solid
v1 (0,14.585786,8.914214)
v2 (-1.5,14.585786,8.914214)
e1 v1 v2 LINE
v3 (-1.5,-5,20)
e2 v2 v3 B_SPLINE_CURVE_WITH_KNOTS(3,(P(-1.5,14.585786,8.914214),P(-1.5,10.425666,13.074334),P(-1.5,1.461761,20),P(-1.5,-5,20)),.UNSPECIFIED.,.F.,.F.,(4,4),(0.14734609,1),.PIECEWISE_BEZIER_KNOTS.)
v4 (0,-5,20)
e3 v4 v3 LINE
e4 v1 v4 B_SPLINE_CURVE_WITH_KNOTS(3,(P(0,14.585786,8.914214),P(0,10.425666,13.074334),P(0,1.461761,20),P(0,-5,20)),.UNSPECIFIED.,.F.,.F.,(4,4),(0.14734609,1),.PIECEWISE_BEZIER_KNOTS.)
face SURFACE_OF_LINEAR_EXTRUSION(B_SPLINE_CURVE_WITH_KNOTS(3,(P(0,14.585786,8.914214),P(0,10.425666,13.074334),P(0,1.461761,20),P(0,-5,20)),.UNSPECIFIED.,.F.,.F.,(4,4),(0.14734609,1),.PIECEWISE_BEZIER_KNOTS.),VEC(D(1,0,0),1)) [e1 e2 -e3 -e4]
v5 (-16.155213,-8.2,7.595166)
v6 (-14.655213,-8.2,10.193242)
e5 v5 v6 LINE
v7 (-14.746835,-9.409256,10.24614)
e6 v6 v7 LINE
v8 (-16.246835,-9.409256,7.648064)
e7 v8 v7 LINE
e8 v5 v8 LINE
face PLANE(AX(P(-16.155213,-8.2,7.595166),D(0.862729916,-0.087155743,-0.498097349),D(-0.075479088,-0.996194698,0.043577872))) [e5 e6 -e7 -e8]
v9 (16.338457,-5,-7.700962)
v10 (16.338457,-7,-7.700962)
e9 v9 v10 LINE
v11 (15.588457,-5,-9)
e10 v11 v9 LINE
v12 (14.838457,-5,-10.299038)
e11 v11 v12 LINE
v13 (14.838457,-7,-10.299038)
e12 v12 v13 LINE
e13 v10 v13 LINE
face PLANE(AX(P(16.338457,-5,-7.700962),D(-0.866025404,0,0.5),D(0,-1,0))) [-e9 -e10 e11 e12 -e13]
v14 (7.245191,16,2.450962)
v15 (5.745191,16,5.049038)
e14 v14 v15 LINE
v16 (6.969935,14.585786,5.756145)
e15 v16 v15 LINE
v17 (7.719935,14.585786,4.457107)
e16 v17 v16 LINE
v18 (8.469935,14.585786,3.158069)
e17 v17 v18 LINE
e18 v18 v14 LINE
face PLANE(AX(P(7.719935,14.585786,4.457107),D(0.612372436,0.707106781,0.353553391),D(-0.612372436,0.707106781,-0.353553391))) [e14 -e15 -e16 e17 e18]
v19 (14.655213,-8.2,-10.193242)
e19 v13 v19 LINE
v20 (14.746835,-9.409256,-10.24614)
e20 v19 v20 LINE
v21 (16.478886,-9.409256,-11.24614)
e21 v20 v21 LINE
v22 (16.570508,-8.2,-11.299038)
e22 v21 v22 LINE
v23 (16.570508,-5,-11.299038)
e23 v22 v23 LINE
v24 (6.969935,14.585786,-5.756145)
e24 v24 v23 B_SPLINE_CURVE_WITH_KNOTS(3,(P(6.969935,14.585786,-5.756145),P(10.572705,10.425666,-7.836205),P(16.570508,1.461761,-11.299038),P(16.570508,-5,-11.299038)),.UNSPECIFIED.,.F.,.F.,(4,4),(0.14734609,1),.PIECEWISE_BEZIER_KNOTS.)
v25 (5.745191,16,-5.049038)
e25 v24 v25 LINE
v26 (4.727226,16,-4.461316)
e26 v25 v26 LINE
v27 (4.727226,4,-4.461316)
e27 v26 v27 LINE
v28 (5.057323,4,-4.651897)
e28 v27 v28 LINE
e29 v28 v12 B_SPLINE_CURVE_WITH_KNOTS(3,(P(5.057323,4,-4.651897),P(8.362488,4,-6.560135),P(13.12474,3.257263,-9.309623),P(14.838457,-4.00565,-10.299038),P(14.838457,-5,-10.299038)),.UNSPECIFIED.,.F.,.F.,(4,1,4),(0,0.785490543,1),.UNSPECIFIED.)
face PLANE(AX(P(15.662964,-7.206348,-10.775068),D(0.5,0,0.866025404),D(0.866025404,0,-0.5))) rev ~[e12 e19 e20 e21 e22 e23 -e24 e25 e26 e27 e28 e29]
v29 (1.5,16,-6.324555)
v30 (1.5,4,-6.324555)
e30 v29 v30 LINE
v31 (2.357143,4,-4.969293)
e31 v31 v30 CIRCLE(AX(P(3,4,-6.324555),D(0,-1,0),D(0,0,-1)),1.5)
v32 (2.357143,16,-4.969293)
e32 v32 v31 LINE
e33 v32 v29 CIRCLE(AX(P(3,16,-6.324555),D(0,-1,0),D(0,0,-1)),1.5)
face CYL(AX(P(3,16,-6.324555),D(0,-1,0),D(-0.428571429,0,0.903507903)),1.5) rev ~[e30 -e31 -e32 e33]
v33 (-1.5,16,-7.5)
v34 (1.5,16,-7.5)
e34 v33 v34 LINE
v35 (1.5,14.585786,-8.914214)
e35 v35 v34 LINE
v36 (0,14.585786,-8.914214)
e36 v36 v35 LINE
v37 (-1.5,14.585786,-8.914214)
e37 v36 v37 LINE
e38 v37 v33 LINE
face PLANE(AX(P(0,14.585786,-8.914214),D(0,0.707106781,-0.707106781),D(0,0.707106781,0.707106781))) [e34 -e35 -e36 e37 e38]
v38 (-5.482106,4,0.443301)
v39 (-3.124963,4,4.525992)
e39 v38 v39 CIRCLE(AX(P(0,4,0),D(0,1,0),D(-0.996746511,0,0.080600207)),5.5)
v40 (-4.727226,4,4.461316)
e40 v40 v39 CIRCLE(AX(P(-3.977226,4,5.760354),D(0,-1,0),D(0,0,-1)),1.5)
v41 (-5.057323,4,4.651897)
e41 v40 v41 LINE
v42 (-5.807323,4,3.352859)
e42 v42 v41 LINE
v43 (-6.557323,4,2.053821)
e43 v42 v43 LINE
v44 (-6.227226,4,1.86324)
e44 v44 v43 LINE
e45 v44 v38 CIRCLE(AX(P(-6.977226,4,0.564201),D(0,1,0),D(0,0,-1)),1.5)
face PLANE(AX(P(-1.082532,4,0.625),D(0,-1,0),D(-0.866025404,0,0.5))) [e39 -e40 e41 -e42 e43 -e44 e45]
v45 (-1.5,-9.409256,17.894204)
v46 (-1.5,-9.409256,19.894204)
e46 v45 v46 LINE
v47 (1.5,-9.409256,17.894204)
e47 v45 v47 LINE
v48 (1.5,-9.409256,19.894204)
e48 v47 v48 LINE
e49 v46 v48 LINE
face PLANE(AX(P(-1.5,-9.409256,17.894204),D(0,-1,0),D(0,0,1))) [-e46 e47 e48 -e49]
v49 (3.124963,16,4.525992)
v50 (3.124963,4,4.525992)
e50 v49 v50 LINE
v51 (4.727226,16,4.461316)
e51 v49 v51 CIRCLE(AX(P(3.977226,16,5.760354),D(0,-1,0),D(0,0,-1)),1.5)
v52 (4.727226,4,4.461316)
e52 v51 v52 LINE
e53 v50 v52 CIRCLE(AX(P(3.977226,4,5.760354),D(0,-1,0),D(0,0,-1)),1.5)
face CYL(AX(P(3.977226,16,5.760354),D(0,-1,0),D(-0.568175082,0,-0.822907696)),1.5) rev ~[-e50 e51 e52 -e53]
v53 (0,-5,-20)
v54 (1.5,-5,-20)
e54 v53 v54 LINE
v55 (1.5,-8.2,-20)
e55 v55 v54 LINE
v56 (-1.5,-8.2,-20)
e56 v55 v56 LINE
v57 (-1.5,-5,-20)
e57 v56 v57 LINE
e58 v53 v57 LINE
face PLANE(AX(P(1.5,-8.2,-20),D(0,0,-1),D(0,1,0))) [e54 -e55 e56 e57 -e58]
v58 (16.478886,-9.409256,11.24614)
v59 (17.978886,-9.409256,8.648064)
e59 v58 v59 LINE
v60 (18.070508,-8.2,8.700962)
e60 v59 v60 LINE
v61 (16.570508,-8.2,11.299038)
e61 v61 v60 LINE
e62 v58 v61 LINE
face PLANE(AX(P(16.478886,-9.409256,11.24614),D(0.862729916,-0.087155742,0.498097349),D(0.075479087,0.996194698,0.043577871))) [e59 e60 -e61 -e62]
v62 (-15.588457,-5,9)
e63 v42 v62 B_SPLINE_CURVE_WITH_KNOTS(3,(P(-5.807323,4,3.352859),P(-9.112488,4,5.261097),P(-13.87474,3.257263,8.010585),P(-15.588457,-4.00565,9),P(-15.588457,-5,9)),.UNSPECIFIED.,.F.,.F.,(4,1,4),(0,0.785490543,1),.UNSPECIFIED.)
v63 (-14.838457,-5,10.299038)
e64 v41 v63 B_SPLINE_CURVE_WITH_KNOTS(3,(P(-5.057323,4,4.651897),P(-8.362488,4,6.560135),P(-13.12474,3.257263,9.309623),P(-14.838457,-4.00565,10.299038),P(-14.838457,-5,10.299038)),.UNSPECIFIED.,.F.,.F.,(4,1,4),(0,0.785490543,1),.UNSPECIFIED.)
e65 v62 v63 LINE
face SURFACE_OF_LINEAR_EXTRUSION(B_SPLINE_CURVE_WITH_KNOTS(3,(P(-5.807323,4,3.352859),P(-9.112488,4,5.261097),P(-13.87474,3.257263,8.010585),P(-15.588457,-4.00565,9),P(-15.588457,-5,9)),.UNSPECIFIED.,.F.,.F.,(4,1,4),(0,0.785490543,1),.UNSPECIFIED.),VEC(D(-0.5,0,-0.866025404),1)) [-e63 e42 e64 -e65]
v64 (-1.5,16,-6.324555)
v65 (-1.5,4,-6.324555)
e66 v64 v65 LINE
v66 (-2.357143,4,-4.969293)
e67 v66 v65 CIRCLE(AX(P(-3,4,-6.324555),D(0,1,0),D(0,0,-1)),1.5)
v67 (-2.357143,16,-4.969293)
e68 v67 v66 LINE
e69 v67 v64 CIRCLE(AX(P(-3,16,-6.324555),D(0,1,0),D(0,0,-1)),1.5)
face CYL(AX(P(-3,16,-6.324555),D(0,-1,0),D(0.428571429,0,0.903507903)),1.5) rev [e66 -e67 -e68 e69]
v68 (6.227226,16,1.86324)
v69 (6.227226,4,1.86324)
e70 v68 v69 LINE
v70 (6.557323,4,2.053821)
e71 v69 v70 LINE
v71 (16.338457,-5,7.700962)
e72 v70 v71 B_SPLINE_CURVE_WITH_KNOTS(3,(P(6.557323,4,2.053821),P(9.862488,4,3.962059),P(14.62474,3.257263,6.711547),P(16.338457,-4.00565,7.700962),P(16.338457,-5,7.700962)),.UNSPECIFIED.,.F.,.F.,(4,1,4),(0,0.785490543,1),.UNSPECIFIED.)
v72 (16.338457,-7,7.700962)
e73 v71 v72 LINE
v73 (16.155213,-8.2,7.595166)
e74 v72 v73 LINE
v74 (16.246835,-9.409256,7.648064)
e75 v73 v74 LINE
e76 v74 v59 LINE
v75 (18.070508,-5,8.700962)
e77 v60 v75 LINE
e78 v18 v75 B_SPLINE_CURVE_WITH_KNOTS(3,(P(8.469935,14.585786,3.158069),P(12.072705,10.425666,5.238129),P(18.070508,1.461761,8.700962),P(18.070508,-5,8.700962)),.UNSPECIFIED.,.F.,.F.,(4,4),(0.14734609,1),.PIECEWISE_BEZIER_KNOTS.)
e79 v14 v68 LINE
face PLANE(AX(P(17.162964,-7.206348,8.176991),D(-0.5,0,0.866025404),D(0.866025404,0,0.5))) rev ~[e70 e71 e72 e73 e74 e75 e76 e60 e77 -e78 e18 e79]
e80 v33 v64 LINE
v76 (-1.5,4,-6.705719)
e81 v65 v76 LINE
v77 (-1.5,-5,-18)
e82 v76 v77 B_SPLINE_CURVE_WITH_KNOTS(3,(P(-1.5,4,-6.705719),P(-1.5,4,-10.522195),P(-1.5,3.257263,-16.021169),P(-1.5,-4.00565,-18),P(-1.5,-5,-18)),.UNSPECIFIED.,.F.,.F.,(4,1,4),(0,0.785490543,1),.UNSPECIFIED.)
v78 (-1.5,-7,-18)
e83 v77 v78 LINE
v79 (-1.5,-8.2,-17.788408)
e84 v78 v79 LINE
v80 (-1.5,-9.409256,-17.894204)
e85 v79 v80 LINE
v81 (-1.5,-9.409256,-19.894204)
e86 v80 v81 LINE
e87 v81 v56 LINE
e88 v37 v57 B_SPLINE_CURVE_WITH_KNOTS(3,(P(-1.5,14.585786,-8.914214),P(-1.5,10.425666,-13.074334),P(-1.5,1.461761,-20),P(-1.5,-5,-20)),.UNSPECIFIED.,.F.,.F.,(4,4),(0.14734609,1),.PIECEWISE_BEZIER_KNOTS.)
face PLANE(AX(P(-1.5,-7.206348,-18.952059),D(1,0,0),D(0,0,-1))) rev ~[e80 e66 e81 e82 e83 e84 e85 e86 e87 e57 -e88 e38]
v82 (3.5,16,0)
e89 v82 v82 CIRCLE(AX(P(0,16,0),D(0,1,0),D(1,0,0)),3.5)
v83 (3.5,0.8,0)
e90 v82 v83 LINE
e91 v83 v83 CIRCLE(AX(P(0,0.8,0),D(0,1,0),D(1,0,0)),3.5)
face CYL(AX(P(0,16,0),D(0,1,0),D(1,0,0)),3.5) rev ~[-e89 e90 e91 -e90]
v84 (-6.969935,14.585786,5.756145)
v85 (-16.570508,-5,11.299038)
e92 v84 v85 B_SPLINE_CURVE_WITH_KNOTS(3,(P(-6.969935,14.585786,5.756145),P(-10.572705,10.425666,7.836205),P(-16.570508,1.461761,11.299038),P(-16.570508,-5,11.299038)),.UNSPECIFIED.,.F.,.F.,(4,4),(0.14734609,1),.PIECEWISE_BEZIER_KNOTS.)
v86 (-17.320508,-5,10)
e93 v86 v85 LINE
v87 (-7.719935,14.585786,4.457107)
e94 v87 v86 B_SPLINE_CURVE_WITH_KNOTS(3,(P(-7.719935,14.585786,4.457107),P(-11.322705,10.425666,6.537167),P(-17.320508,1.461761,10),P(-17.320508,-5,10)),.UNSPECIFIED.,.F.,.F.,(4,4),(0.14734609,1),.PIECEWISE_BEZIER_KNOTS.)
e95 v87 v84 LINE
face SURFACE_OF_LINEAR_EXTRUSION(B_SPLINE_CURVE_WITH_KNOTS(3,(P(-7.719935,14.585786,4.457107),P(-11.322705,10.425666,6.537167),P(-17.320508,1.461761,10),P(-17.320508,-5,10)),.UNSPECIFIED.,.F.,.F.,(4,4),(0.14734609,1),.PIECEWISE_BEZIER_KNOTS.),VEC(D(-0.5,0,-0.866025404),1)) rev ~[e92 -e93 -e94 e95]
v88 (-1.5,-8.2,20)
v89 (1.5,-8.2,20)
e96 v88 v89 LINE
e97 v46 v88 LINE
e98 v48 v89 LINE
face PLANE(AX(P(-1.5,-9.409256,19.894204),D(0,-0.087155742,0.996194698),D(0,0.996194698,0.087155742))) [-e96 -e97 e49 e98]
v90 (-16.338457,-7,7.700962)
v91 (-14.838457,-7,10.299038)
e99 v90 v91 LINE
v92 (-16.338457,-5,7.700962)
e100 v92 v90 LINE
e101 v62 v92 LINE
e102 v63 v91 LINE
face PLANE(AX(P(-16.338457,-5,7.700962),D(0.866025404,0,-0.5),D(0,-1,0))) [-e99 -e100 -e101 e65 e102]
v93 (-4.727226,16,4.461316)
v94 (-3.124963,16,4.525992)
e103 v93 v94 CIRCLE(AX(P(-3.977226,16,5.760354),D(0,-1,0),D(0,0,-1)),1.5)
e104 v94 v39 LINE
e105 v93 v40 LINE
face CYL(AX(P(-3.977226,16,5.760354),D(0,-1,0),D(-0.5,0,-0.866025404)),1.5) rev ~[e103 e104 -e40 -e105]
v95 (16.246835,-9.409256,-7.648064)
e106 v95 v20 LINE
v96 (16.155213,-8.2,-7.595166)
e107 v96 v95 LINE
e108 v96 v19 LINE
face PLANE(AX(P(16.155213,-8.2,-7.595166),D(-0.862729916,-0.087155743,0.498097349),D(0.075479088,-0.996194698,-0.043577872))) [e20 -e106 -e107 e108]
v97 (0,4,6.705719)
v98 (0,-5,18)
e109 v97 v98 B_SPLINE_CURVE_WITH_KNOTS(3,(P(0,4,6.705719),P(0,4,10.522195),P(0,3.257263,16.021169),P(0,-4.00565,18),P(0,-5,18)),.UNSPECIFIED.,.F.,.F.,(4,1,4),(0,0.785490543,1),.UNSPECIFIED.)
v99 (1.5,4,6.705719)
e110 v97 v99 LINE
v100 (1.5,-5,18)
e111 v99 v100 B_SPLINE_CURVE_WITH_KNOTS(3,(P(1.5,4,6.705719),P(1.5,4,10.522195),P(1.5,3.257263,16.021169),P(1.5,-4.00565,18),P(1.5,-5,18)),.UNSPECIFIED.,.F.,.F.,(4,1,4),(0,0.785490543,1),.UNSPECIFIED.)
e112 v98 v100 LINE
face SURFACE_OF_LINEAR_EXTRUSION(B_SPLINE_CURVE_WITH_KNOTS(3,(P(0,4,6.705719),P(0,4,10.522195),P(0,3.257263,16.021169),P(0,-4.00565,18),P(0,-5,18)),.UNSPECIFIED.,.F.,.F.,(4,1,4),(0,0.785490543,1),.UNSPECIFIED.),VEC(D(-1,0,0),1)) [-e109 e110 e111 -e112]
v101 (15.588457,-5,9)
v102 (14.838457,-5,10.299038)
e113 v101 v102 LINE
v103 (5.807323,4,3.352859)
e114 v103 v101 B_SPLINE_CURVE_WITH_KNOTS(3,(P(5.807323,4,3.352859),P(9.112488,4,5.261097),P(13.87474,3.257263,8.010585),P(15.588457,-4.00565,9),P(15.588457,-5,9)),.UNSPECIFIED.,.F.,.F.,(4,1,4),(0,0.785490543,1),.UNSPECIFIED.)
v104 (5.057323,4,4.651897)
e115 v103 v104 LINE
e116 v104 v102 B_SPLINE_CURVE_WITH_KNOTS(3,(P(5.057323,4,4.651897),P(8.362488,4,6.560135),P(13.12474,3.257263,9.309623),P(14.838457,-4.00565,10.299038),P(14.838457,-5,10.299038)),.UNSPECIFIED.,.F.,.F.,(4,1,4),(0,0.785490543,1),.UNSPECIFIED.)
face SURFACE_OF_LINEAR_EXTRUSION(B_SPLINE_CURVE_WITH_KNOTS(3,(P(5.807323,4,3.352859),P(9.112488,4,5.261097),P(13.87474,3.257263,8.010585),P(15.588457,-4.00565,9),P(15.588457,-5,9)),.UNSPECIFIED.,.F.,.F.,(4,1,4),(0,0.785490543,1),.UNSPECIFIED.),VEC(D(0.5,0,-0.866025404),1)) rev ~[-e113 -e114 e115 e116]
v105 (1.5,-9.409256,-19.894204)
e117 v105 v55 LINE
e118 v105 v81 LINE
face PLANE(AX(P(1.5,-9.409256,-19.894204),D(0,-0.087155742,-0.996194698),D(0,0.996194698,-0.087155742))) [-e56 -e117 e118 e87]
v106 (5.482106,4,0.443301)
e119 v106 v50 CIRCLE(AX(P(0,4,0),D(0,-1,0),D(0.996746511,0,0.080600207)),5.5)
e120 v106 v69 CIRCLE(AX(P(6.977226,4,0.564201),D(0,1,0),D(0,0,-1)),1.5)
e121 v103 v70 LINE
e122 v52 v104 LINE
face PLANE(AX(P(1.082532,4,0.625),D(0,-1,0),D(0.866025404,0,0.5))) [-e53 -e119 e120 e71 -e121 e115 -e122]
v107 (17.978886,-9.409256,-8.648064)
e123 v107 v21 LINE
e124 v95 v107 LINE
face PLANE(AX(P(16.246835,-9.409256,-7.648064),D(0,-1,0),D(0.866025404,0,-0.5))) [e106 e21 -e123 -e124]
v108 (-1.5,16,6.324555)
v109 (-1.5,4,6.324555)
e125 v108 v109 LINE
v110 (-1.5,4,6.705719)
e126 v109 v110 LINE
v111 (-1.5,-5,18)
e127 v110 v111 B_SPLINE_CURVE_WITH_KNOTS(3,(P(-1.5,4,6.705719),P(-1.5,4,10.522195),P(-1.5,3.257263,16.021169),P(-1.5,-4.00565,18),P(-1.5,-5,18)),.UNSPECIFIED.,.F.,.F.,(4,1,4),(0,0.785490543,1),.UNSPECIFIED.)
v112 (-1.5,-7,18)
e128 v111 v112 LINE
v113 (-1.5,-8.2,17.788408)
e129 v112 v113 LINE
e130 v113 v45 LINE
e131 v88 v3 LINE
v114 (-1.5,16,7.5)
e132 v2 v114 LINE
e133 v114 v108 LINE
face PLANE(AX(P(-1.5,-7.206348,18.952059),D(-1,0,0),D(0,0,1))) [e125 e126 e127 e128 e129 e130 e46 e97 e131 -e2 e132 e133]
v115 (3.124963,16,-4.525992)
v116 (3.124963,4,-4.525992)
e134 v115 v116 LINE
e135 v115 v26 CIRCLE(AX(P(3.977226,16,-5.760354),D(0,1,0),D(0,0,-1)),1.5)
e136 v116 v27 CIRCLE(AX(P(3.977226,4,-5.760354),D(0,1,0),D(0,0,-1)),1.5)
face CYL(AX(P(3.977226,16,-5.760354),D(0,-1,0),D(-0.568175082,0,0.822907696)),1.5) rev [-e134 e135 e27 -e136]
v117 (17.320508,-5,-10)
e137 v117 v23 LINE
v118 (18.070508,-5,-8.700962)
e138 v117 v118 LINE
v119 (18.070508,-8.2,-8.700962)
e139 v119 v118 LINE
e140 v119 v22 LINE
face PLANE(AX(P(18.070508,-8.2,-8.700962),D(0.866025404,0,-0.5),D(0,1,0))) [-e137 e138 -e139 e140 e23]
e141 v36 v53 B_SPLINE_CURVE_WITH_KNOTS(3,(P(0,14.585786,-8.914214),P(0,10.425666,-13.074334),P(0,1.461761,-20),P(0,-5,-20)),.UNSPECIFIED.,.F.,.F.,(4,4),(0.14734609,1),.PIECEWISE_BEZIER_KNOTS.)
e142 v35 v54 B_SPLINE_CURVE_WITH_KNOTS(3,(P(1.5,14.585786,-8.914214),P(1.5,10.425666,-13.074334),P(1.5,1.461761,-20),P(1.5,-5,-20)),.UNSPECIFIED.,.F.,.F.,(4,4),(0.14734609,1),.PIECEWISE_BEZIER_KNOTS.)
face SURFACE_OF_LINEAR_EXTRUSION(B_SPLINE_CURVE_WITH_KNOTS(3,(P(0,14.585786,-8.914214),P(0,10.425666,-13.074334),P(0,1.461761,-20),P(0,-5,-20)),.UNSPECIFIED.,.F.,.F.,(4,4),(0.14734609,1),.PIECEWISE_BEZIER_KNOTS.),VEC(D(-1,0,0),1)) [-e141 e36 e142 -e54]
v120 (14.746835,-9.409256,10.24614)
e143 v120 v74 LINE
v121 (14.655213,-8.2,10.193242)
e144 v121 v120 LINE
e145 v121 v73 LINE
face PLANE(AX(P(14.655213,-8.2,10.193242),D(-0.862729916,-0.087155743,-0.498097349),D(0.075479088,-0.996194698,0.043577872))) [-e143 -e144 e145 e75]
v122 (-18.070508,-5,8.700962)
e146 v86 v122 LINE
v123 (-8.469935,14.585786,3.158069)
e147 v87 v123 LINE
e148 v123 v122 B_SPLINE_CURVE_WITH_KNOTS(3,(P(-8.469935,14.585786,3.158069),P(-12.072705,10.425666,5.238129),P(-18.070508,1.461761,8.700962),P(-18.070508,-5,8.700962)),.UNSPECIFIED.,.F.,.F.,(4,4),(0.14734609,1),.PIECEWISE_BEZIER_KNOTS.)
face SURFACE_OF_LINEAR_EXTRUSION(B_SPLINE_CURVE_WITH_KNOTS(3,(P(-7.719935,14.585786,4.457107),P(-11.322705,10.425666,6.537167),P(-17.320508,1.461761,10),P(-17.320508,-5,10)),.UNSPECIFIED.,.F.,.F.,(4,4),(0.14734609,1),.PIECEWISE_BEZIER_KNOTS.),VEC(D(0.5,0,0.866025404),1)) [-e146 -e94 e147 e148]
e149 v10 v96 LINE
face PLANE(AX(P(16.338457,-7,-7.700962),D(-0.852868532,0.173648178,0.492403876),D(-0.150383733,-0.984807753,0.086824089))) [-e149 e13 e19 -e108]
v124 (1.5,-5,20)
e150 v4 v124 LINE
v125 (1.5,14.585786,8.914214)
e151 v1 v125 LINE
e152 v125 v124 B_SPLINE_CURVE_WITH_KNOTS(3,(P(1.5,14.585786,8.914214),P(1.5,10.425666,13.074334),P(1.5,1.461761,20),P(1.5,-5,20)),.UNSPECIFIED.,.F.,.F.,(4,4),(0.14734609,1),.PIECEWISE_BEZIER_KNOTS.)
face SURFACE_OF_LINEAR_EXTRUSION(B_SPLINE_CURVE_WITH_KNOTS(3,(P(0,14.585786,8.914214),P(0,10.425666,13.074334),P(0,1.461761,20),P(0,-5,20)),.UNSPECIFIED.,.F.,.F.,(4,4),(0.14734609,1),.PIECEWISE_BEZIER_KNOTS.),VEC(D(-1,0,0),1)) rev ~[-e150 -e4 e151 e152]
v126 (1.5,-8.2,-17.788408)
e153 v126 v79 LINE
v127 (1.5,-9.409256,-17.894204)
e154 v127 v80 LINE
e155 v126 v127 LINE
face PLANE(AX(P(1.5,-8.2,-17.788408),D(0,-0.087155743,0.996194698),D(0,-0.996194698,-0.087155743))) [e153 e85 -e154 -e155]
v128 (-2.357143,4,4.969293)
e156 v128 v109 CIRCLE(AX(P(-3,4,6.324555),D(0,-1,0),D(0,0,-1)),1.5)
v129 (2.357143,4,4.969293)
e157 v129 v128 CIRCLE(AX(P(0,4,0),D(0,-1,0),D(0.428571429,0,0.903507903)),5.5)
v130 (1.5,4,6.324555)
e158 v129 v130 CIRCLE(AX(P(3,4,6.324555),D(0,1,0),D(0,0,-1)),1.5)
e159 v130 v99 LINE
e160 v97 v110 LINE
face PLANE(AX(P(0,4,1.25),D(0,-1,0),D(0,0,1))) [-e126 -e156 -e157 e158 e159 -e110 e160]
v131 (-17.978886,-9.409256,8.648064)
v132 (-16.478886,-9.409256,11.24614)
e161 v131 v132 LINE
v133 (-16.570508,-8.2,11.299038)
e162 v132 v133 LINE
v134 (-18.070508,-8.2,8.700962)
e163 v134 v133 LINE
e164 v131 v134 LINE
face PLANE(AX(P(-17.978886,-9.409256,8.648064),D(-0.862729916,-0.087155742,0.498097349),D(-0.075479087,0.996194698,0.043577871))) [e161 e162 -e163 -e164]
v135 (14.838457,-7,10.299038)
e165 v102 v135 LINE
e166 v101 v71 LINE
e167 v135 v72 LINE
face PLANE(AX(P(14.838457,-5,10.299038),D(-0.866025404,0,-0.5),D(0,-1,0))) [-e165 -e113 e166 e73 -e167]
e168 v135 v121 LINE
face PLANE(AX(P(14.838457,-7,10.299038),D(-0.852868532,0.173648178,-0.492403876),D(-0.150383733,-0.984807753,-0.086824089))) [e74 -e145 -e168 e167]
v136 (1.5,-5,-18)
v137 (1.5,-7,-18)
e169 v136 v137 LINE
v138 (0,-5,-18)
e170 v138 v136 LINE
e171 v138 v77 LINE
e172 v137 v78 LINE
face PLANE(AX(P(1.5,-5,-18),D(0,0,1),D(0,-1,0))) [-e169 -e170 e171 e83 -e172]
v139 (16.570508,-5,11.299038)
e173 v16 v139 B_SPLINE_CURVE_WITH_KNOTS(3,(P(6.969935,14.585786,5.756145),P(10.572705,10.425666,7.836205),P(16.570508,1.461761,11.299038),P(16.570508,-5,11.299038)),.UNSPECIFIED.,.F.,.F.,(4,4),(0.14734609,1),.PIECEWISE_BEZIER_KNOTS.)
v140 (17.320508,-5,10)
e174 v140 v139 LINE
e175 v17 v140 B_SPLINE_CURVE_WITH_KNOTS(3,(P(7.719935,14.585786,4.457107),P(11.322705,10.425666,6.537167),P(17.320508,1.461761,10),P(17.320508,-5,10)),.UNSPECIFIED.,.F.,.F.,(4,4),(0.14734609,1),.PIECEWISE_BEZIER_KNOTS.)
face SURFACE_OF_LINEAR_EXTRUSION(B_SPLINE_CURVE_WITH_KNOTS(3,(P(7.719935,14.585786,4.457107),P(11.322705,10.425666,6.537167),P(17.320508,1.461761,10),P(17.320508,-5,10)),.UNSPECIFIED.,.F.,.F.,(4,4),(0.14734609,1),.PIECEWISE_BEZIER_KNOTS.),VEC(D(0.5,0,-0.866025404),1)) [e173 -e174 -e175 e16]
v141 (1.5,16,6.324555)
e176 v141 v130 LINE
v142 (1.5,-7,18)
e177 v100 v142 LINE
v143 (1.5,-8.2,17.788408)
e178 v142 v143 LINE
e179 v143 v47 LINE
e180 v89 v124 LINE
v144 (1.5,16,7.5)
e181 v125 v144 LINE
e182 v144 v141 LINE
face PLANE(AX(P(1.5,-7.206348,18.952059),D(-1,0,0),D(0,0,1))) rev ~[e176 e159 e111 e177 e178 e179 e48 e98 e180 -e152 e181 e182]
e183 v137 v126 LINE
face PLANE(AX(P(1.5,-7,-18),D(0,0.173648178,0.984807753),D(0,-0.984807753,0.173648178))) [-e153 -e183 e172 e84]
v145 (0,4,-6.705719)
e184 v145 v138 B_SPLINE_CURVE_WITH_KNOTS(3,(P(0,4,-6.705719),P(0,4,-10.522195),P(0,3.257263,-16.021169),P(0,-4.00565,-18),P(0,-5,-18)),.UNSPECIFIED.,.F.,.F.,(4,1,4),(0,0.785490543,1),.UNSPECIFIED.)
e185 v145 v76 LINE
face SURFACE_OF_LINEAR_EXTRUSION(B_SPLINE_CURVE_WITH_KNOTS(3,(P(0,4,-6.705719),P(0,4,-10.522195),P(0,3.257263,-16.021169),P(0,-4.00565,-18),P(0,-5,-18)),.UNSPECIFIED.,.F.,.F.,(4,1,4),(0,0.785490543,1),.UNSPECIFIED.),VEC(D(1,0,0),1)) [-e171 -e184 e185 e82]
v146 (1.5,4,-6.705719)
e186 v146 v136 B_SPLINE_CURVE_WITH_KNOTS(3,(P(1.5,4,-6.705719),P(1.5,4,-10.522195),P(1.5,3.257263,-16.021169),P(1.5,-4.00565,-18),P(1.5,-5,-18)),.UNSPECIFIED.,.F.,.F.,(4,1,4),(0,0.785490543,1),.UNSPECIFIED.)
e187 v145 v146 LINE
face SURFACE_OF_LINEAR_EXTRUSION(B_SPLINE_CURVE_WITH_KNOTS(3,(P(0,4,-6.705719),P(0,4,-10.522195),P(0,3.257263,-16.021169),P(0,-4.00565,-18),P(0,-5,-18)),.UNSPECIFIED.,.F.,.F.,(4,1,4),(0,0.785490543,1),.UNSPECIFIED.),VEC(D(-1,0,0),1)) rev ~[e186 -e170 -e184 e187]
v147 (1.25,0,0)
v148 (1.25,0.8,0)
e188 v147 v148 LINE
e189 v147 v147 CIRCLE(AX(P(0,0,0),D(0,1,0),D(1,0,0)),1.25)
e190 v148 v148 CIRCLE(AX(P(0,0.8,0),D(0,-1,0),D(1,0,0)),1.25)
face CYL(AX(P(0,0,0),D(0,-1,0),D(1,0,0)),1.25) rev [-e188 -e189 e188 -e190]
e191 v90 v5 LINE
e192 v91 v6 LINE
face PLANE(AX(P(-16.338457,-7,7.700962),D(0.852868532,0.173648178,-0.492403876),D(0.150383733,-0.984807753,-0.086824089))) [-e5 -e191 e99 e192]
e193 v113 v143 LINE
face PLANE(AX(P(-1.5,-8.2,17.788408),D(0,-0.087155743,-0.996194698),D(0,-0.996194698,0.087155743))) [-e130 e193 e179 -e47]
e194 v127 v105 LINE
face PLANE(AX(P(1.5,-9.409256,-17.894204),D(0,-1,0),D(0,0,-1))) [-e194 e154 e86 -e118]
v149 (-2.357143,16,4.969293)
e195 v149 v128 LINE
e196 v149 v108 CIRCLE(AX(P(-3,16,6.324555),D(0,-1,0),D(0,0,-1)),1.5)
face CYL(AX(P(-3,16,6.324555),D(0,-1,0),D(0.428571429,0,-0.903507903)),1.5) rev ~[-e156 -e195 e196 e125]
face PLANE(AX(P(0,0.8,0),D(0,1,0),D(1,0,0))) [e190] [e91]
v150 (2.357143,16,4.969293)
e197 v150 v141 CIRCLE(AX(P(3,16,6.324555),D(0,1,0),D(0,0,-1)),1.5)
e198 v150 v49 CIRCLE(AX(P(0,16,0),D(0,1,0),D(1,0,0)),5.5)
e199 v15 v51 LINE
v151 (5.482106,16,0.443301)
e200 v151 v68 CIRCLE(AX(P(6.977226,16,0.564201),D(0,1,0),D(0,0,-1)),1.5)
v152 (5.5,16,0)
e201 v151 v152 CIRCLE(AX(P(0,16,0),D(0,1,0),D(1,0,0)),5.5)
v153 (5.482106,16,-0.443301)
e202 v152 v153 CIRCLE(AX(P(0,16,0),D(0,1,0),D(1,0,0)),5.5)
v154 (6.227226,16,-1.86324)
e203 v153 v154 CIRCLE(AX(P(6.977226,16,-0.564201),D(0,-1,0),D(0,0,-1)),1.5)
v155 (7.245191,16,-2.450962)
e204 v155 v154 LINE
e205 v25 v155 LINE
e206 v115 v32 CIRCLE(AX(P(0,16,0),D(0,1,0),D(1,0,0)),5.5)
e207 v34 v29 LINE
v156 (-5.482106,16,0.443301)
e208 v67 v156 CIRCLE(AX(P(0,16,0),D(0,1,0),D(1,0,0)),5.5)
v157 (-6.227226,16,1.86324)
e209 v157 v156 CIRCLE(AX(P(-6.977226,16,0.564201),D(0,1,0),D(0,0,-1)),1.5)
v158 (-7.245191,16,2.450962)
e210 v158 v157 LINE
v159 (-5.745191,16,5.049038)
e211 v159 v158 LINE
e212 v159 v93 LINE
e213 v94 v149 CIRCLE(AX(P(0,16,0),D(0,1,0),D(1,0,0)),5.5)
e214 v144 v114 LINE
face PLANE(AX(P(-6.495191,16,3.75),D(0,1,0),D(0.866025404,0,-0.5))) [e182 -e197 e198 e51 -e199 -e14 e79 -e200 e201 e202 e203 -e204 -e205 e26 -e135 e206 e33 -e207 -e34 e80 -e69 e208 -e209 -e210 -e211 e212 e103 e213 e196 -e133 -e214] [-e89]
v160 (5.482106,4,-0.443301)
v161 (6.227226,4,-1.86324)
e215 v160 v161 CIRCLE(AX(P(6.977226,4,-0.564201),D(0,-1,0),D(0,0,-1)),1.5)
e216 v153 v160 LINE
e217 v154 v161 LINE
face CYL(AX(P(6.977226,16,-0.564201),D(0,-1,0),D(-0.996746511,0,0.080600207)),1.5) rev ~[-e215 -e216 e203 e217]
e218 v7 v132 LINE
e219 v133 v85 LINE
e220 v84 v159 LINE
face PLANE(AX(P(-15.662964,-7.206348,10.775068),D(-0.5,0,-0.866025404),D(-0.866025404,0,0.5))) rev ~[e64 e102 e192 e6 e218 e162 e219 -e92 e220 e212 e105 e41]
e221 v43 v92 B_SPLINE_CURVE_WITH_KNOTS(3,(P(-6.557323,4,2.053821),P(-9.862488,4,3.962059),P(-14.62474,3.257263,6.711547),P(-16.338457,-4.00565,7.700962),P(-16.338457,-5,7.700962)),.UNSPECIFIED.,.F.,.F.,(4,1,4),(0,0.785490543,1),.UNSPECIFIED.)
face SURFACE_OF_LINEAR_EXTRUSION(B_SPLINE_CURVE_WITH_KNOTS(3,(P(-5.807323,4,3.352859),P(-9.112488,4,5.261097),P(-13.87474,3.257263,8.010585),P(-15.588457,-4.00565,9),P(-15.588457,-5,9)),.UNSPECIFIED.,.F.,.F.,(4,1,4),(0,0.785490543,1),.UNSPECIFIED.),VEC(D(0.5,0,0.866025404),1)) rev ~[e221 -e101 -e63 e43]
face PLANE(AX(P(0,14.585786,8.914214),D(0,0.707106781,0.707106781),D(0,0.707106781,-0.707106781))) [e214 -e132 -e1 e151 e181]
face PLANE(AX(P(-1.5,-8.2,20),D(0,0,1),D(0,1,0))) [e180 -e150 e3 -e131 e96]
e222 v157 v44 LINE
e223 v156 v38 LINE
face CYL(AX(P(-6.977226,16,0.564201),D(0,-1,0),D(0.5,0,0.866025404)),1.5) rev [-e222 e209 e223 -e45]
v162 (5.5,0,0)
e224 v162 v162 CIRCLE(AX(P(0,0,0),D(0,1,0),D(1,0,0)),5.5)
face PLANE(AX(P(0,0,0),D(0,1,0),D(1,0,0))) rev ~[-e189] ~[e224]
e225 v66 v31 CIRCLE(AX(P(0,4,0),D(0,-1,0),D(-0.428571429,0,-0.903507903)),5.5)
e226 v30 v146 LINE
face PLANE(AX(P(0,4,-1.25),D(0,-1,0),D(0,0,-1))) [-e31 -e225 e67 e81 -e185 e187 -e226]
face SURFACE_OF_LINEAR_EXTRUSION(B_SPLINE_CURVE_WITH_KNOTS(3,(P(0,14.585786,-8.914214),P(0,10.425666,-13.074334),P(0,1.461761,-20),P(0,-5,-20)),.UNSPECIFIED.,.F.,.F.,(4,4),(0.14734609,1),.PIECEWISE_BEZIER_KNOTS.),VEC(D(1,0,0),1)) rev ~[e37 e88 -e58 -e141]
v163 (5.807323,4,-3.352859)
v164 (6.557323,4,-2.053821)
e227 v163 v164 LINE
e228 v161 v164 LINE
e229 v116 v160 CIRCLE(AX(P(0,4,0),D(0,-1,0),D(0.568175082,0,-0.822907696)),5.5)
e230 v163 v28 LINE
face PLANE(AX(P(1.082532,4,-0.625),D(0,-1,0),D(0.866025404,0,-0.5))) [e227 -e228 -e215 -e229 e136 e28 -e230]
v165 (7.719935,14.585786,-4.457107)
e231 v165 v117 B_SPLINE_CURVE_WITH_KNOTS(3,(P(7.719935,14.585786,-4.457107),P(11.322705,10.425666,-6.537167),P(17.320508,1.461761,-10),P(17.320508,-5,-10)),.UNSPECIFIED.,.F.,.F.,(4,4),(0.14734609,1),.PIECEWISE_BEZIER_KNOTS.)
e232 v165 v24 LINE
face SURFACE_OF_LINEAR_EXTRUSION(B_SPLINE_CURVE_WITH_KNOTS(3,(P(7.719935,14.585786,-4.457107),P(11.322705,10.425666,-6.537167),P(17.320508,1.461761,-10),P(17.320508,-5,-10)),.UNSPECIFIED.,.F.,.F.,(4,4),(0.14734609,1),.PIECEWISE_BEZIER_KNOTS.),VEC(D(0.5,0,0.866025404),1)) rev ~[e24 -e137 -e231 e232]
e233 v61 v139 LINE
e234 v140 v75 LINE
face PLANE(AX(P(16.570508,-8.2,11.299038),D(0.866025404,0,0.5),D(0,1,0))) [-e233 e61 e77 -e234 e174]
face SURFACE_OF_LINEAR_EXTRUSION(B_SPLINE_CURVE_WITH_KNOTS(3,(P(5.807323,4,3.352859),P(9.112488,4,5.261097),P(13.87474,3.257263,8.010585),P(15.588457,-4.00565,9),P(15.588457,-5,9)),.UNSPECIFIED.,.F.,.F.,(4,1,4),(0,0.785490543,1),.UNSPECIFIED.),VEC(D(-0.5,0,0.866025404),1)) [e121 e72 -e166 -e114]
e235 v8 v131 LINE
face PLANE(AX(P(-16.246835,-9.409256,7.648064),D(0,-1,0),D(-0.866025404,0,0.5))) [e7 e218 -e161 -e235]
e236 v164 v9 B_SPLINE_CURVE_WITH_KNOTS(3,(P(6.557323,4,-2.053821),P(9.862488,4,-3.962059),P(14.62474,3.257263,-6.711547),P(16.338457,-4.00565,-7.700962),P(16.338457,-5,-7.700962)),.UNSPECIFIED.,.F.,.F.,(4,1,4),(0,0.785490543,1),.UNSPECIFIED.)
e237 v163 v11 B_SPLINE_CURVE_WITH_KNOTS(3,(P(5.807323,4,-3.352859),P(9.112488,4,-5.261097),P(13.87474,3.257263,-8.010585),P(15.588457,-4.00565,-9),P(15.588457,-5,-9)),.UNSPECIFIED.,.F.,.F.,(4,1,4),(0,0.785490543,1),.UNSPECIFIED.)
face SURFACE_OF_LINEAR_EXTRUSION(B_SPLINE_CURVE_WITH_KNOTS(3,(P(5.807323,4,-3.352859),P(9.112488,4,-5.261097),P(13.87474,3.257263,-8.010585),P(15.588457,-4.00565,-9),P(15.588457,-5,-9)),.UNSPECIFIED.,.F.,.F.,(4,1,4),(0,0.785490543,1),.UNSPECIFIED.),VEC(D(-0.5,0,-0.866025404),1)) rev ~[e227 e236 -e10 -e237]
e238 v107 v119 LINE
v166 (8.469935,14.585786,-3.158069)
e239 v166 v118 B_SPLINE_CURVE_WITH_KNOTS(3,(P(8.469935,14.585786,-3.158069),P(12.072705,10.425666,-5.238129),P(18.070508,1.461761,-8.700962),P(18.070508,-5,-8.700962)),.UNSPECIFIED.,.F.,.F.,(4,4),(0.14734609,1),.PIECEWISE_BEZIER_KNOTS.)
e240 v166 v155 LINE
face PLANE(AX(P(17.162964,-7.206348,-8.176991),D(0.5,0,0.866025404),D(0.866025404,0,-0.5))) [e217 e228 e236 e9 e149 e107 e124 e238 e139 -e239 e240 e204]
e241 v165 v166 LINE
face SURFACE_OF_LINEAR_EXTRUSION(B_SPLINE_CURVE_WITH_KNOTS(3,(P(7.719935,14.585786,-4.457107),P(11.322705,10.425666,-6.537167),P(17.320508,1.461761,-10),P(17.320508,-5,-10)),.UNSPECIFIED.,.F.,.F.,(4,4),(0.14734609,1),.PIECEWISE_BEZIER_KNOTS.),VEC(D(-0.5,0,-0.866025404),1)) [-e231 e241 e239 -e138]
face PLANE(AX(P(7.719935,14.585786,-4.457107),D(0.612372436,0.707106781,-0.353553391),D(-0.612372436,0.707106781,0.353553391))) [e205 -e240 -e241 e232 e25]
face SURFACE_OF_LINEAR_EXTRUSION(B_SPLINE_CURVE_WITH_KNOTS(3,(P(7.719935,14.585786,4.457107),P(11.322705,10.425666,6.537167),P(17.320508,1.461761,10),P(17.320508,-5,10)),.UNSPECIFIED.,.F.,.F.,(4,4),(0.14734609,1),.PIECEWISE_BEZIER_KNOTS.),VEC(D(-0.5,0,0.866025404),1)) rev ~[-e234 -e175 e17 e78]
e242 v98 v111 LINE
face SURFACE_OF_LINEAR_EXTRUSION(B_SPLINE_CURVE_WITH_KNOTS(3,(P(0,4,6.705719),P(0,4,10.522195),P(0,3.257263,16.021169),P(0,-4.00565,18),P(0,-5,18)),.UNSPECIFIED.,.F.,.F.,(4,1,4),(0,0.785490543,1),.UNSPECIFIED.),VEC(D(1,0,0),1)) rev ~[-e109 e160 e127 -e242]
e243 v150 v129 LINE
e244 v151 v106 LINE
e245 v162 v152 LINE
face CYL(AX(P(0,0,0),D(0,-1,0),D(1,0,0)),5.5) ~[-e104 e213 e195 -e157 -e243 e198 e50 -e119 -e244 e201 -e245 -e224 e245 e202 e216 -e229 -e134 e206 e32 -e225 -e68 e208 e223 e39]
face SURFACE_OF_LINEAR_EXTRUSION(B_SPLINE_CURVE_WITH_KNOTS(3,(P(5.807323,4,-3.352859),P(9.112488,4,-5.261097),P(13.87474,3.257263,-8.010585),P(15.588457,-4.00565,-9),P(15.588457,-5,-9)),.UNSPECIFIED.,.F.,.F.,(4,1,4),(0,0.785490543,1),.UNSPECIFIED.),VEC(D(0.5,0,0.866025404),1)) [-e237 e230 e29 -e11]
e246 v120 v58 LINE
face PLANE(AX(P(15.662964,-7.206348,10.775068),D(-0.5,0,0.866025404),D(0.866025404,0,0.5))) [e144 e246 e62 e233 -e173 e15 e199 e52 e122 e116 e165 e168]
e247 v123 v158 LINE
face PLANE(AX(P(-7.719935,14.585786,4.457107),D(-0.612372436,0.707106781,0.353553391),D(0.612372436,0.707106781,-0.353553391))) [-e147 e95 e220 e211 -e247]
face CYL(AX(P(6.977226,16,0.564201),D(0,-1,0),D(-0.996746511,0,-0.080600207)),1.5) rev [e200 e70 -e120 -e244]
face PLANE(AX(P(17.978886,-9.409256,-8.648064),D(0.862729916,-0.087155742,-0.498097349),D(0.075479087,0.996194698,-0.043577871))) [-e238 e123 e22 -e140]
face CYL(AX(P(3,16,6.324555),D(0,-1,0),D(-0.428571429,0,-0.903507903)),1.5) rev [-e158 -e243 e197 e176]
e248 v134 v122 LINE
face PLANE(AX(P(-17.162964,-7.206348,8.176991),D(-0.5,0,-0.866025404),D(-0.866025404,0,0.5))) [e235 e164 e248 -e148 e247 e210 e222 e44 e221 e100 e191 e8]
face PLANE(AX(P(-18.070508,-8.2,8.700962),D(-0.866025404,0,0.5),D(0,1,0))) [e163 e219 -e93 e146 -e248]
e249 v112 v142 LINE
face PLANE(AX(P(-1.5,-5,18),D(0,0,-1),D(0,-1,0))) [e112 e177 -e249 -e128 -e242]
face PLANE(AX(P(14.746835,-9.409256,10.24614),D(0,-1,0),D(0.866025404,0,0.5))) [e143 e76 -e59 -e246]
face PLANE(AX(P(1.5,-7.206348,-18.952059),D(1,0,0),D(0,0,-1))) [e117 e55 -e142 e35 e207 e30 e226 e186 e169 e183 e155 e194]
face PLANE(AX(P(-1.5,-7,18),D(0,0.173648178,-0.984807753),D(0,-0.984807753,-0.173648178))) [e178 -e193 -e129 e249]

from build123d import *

# Parameters (mm, degrees)
SKETCH1_R           = 5.5
SKETCH1_R_2         = 1.25
BOSS_EXTRUDE1_DEPTH = 16
BOSS_EXTRUDE2_DEPTH = 1.5
BOSS_EXTRUDE3_DEPTH = 3
CIRPATTERN1_COUNT   = 5
CIRPATTERN1_ANGLE   = 240
FILLET1_R           = 1.5
SKETCH6_R           = 3.5
CUT_EXTRUDE1_DEPTH  = 15.2


with BuildPart() as part:
    # Sketch1 → Boss-Extrude1 (new body)
    with BuildSketch(Plane(origin=(0, 0, 0), x_dir=(1, 0, 0), z_dir=(0, 1, 0))):
        Circle(SKETCH1_R)
        Circle(SKETCH1_R_2, mode=Mode.SUBTRACT)
    extrude(amount=BOSS_EXTRUDE1_DEPTH)

    # Sketch2 → Boss-Extrude2 (add, symmetric)
    with BuildSketch(Plane(origin=(0, 0, 0), x_dir=(0, 0, -1), z_dir=(1, 0, 0))):
        with BuildLine():
            Line((18, -5), (20, -5))
            add(Edge.make_bspline(
                [(8.914213562, 14.585786438), (13.074333826, 10.425666174), (20, 1.461761402), (20, -5)],
                knots=[0.14734609, 0.14734609, 0.14734609, 0.14734609, 1, 1, 1, 1], degree=3))
            Line((8.914213562, 14.585786438), (7.5, 16))
            Line((7.5, 16), (5.5, 16))
            Line((5.5, 16), (1.25, 16))
            Line((1.25, 16), (1.25, 4))
            Line((1.25, 4), (6.70571865, 4))
            add(Edge.make_bspline(
                [(6.70571865, 4), (10.522194615, 4), (16.021169224, 3.257262603), (18, -4.005650027), (18, -5)],
                knots=[0, 0, 0, 0, 0.785490543, 1, 1, 1, 1], degree=3))
        make_face()
    boss_extrude2 = extrude(amount=BOSS_EXTRUDE2_DEPTH, both=True)

    # Sketch8 → Boss-Extrude3 (add)
    with BuildSketch(Plane(origin=(1.5, 0, 0), x_dir=(0, 0, -1), z_dir=(1, 0, 0))):
        Polygon((18, -7), (17.788407623, -8.2), (17.894203812, -9.409255967), (19.894203812, -9.409255967), (20, -8.2), (20, -7), (20, -5), (18, -5), align=None)
    boss_extrude3 = extrude(amount=-BOSS_EXTRUDE3_DEPTH)

    # CirPattern1: Boss-Extrude2, Boss-Extrude3 ×5 about axis
    cirpattern1_axis = Axis((0, 16, 0), (0, -1, 0))
    for i in range(1, CIRPATTERN1_COUNT):
        add(boss_extrude2.rotate(cirpattern1_axis, i * CIRPATTERN1_ANGLE / (CIRPATTERN1_COUNT - 1)))
        add(boss_extrude3.rotate(cirpattern1_axis, i * CIRPATTERN1_ANGLE / (CIRPATTERN1_COUNT - 1)))

    # Fillet1
    fillet1_edges = [part.edges().sort_by_distance(p)[0] for p in [
        (-5.332575695, 10, 1.346713205),
        (1.5, 10, -5.291502622),
        (-1.5, 10, -5.291502622),
        (3.832575695, 10, -3.944789417),
        (5.332575695, 10, 1.346713205),
        (1.5, 10, 5.291502622),
        (-3.832575695, 10, 3.944789417),
        (5.332575695, 10, -1.346713205),
        (3.832575695, 10, 3.944789417),
        (-1.5, 10, 5.291502622),
    ]]
    fillet(fillet1_edges, radius=FILLET1_R)

    # Sketch6 → Cut-Extrude1 (cut)
    with BuildSketch(Plane(origin=(0, 16, 0), x_dir=(1, 0, 0), z_dir=(0, 1, 0))):
        Circle(SKETCH6_R)
    extrude(amount=-CUT_EXTRUDE1_DEPTH, mode=Mode.SUBTRACT)


solid = part.part
